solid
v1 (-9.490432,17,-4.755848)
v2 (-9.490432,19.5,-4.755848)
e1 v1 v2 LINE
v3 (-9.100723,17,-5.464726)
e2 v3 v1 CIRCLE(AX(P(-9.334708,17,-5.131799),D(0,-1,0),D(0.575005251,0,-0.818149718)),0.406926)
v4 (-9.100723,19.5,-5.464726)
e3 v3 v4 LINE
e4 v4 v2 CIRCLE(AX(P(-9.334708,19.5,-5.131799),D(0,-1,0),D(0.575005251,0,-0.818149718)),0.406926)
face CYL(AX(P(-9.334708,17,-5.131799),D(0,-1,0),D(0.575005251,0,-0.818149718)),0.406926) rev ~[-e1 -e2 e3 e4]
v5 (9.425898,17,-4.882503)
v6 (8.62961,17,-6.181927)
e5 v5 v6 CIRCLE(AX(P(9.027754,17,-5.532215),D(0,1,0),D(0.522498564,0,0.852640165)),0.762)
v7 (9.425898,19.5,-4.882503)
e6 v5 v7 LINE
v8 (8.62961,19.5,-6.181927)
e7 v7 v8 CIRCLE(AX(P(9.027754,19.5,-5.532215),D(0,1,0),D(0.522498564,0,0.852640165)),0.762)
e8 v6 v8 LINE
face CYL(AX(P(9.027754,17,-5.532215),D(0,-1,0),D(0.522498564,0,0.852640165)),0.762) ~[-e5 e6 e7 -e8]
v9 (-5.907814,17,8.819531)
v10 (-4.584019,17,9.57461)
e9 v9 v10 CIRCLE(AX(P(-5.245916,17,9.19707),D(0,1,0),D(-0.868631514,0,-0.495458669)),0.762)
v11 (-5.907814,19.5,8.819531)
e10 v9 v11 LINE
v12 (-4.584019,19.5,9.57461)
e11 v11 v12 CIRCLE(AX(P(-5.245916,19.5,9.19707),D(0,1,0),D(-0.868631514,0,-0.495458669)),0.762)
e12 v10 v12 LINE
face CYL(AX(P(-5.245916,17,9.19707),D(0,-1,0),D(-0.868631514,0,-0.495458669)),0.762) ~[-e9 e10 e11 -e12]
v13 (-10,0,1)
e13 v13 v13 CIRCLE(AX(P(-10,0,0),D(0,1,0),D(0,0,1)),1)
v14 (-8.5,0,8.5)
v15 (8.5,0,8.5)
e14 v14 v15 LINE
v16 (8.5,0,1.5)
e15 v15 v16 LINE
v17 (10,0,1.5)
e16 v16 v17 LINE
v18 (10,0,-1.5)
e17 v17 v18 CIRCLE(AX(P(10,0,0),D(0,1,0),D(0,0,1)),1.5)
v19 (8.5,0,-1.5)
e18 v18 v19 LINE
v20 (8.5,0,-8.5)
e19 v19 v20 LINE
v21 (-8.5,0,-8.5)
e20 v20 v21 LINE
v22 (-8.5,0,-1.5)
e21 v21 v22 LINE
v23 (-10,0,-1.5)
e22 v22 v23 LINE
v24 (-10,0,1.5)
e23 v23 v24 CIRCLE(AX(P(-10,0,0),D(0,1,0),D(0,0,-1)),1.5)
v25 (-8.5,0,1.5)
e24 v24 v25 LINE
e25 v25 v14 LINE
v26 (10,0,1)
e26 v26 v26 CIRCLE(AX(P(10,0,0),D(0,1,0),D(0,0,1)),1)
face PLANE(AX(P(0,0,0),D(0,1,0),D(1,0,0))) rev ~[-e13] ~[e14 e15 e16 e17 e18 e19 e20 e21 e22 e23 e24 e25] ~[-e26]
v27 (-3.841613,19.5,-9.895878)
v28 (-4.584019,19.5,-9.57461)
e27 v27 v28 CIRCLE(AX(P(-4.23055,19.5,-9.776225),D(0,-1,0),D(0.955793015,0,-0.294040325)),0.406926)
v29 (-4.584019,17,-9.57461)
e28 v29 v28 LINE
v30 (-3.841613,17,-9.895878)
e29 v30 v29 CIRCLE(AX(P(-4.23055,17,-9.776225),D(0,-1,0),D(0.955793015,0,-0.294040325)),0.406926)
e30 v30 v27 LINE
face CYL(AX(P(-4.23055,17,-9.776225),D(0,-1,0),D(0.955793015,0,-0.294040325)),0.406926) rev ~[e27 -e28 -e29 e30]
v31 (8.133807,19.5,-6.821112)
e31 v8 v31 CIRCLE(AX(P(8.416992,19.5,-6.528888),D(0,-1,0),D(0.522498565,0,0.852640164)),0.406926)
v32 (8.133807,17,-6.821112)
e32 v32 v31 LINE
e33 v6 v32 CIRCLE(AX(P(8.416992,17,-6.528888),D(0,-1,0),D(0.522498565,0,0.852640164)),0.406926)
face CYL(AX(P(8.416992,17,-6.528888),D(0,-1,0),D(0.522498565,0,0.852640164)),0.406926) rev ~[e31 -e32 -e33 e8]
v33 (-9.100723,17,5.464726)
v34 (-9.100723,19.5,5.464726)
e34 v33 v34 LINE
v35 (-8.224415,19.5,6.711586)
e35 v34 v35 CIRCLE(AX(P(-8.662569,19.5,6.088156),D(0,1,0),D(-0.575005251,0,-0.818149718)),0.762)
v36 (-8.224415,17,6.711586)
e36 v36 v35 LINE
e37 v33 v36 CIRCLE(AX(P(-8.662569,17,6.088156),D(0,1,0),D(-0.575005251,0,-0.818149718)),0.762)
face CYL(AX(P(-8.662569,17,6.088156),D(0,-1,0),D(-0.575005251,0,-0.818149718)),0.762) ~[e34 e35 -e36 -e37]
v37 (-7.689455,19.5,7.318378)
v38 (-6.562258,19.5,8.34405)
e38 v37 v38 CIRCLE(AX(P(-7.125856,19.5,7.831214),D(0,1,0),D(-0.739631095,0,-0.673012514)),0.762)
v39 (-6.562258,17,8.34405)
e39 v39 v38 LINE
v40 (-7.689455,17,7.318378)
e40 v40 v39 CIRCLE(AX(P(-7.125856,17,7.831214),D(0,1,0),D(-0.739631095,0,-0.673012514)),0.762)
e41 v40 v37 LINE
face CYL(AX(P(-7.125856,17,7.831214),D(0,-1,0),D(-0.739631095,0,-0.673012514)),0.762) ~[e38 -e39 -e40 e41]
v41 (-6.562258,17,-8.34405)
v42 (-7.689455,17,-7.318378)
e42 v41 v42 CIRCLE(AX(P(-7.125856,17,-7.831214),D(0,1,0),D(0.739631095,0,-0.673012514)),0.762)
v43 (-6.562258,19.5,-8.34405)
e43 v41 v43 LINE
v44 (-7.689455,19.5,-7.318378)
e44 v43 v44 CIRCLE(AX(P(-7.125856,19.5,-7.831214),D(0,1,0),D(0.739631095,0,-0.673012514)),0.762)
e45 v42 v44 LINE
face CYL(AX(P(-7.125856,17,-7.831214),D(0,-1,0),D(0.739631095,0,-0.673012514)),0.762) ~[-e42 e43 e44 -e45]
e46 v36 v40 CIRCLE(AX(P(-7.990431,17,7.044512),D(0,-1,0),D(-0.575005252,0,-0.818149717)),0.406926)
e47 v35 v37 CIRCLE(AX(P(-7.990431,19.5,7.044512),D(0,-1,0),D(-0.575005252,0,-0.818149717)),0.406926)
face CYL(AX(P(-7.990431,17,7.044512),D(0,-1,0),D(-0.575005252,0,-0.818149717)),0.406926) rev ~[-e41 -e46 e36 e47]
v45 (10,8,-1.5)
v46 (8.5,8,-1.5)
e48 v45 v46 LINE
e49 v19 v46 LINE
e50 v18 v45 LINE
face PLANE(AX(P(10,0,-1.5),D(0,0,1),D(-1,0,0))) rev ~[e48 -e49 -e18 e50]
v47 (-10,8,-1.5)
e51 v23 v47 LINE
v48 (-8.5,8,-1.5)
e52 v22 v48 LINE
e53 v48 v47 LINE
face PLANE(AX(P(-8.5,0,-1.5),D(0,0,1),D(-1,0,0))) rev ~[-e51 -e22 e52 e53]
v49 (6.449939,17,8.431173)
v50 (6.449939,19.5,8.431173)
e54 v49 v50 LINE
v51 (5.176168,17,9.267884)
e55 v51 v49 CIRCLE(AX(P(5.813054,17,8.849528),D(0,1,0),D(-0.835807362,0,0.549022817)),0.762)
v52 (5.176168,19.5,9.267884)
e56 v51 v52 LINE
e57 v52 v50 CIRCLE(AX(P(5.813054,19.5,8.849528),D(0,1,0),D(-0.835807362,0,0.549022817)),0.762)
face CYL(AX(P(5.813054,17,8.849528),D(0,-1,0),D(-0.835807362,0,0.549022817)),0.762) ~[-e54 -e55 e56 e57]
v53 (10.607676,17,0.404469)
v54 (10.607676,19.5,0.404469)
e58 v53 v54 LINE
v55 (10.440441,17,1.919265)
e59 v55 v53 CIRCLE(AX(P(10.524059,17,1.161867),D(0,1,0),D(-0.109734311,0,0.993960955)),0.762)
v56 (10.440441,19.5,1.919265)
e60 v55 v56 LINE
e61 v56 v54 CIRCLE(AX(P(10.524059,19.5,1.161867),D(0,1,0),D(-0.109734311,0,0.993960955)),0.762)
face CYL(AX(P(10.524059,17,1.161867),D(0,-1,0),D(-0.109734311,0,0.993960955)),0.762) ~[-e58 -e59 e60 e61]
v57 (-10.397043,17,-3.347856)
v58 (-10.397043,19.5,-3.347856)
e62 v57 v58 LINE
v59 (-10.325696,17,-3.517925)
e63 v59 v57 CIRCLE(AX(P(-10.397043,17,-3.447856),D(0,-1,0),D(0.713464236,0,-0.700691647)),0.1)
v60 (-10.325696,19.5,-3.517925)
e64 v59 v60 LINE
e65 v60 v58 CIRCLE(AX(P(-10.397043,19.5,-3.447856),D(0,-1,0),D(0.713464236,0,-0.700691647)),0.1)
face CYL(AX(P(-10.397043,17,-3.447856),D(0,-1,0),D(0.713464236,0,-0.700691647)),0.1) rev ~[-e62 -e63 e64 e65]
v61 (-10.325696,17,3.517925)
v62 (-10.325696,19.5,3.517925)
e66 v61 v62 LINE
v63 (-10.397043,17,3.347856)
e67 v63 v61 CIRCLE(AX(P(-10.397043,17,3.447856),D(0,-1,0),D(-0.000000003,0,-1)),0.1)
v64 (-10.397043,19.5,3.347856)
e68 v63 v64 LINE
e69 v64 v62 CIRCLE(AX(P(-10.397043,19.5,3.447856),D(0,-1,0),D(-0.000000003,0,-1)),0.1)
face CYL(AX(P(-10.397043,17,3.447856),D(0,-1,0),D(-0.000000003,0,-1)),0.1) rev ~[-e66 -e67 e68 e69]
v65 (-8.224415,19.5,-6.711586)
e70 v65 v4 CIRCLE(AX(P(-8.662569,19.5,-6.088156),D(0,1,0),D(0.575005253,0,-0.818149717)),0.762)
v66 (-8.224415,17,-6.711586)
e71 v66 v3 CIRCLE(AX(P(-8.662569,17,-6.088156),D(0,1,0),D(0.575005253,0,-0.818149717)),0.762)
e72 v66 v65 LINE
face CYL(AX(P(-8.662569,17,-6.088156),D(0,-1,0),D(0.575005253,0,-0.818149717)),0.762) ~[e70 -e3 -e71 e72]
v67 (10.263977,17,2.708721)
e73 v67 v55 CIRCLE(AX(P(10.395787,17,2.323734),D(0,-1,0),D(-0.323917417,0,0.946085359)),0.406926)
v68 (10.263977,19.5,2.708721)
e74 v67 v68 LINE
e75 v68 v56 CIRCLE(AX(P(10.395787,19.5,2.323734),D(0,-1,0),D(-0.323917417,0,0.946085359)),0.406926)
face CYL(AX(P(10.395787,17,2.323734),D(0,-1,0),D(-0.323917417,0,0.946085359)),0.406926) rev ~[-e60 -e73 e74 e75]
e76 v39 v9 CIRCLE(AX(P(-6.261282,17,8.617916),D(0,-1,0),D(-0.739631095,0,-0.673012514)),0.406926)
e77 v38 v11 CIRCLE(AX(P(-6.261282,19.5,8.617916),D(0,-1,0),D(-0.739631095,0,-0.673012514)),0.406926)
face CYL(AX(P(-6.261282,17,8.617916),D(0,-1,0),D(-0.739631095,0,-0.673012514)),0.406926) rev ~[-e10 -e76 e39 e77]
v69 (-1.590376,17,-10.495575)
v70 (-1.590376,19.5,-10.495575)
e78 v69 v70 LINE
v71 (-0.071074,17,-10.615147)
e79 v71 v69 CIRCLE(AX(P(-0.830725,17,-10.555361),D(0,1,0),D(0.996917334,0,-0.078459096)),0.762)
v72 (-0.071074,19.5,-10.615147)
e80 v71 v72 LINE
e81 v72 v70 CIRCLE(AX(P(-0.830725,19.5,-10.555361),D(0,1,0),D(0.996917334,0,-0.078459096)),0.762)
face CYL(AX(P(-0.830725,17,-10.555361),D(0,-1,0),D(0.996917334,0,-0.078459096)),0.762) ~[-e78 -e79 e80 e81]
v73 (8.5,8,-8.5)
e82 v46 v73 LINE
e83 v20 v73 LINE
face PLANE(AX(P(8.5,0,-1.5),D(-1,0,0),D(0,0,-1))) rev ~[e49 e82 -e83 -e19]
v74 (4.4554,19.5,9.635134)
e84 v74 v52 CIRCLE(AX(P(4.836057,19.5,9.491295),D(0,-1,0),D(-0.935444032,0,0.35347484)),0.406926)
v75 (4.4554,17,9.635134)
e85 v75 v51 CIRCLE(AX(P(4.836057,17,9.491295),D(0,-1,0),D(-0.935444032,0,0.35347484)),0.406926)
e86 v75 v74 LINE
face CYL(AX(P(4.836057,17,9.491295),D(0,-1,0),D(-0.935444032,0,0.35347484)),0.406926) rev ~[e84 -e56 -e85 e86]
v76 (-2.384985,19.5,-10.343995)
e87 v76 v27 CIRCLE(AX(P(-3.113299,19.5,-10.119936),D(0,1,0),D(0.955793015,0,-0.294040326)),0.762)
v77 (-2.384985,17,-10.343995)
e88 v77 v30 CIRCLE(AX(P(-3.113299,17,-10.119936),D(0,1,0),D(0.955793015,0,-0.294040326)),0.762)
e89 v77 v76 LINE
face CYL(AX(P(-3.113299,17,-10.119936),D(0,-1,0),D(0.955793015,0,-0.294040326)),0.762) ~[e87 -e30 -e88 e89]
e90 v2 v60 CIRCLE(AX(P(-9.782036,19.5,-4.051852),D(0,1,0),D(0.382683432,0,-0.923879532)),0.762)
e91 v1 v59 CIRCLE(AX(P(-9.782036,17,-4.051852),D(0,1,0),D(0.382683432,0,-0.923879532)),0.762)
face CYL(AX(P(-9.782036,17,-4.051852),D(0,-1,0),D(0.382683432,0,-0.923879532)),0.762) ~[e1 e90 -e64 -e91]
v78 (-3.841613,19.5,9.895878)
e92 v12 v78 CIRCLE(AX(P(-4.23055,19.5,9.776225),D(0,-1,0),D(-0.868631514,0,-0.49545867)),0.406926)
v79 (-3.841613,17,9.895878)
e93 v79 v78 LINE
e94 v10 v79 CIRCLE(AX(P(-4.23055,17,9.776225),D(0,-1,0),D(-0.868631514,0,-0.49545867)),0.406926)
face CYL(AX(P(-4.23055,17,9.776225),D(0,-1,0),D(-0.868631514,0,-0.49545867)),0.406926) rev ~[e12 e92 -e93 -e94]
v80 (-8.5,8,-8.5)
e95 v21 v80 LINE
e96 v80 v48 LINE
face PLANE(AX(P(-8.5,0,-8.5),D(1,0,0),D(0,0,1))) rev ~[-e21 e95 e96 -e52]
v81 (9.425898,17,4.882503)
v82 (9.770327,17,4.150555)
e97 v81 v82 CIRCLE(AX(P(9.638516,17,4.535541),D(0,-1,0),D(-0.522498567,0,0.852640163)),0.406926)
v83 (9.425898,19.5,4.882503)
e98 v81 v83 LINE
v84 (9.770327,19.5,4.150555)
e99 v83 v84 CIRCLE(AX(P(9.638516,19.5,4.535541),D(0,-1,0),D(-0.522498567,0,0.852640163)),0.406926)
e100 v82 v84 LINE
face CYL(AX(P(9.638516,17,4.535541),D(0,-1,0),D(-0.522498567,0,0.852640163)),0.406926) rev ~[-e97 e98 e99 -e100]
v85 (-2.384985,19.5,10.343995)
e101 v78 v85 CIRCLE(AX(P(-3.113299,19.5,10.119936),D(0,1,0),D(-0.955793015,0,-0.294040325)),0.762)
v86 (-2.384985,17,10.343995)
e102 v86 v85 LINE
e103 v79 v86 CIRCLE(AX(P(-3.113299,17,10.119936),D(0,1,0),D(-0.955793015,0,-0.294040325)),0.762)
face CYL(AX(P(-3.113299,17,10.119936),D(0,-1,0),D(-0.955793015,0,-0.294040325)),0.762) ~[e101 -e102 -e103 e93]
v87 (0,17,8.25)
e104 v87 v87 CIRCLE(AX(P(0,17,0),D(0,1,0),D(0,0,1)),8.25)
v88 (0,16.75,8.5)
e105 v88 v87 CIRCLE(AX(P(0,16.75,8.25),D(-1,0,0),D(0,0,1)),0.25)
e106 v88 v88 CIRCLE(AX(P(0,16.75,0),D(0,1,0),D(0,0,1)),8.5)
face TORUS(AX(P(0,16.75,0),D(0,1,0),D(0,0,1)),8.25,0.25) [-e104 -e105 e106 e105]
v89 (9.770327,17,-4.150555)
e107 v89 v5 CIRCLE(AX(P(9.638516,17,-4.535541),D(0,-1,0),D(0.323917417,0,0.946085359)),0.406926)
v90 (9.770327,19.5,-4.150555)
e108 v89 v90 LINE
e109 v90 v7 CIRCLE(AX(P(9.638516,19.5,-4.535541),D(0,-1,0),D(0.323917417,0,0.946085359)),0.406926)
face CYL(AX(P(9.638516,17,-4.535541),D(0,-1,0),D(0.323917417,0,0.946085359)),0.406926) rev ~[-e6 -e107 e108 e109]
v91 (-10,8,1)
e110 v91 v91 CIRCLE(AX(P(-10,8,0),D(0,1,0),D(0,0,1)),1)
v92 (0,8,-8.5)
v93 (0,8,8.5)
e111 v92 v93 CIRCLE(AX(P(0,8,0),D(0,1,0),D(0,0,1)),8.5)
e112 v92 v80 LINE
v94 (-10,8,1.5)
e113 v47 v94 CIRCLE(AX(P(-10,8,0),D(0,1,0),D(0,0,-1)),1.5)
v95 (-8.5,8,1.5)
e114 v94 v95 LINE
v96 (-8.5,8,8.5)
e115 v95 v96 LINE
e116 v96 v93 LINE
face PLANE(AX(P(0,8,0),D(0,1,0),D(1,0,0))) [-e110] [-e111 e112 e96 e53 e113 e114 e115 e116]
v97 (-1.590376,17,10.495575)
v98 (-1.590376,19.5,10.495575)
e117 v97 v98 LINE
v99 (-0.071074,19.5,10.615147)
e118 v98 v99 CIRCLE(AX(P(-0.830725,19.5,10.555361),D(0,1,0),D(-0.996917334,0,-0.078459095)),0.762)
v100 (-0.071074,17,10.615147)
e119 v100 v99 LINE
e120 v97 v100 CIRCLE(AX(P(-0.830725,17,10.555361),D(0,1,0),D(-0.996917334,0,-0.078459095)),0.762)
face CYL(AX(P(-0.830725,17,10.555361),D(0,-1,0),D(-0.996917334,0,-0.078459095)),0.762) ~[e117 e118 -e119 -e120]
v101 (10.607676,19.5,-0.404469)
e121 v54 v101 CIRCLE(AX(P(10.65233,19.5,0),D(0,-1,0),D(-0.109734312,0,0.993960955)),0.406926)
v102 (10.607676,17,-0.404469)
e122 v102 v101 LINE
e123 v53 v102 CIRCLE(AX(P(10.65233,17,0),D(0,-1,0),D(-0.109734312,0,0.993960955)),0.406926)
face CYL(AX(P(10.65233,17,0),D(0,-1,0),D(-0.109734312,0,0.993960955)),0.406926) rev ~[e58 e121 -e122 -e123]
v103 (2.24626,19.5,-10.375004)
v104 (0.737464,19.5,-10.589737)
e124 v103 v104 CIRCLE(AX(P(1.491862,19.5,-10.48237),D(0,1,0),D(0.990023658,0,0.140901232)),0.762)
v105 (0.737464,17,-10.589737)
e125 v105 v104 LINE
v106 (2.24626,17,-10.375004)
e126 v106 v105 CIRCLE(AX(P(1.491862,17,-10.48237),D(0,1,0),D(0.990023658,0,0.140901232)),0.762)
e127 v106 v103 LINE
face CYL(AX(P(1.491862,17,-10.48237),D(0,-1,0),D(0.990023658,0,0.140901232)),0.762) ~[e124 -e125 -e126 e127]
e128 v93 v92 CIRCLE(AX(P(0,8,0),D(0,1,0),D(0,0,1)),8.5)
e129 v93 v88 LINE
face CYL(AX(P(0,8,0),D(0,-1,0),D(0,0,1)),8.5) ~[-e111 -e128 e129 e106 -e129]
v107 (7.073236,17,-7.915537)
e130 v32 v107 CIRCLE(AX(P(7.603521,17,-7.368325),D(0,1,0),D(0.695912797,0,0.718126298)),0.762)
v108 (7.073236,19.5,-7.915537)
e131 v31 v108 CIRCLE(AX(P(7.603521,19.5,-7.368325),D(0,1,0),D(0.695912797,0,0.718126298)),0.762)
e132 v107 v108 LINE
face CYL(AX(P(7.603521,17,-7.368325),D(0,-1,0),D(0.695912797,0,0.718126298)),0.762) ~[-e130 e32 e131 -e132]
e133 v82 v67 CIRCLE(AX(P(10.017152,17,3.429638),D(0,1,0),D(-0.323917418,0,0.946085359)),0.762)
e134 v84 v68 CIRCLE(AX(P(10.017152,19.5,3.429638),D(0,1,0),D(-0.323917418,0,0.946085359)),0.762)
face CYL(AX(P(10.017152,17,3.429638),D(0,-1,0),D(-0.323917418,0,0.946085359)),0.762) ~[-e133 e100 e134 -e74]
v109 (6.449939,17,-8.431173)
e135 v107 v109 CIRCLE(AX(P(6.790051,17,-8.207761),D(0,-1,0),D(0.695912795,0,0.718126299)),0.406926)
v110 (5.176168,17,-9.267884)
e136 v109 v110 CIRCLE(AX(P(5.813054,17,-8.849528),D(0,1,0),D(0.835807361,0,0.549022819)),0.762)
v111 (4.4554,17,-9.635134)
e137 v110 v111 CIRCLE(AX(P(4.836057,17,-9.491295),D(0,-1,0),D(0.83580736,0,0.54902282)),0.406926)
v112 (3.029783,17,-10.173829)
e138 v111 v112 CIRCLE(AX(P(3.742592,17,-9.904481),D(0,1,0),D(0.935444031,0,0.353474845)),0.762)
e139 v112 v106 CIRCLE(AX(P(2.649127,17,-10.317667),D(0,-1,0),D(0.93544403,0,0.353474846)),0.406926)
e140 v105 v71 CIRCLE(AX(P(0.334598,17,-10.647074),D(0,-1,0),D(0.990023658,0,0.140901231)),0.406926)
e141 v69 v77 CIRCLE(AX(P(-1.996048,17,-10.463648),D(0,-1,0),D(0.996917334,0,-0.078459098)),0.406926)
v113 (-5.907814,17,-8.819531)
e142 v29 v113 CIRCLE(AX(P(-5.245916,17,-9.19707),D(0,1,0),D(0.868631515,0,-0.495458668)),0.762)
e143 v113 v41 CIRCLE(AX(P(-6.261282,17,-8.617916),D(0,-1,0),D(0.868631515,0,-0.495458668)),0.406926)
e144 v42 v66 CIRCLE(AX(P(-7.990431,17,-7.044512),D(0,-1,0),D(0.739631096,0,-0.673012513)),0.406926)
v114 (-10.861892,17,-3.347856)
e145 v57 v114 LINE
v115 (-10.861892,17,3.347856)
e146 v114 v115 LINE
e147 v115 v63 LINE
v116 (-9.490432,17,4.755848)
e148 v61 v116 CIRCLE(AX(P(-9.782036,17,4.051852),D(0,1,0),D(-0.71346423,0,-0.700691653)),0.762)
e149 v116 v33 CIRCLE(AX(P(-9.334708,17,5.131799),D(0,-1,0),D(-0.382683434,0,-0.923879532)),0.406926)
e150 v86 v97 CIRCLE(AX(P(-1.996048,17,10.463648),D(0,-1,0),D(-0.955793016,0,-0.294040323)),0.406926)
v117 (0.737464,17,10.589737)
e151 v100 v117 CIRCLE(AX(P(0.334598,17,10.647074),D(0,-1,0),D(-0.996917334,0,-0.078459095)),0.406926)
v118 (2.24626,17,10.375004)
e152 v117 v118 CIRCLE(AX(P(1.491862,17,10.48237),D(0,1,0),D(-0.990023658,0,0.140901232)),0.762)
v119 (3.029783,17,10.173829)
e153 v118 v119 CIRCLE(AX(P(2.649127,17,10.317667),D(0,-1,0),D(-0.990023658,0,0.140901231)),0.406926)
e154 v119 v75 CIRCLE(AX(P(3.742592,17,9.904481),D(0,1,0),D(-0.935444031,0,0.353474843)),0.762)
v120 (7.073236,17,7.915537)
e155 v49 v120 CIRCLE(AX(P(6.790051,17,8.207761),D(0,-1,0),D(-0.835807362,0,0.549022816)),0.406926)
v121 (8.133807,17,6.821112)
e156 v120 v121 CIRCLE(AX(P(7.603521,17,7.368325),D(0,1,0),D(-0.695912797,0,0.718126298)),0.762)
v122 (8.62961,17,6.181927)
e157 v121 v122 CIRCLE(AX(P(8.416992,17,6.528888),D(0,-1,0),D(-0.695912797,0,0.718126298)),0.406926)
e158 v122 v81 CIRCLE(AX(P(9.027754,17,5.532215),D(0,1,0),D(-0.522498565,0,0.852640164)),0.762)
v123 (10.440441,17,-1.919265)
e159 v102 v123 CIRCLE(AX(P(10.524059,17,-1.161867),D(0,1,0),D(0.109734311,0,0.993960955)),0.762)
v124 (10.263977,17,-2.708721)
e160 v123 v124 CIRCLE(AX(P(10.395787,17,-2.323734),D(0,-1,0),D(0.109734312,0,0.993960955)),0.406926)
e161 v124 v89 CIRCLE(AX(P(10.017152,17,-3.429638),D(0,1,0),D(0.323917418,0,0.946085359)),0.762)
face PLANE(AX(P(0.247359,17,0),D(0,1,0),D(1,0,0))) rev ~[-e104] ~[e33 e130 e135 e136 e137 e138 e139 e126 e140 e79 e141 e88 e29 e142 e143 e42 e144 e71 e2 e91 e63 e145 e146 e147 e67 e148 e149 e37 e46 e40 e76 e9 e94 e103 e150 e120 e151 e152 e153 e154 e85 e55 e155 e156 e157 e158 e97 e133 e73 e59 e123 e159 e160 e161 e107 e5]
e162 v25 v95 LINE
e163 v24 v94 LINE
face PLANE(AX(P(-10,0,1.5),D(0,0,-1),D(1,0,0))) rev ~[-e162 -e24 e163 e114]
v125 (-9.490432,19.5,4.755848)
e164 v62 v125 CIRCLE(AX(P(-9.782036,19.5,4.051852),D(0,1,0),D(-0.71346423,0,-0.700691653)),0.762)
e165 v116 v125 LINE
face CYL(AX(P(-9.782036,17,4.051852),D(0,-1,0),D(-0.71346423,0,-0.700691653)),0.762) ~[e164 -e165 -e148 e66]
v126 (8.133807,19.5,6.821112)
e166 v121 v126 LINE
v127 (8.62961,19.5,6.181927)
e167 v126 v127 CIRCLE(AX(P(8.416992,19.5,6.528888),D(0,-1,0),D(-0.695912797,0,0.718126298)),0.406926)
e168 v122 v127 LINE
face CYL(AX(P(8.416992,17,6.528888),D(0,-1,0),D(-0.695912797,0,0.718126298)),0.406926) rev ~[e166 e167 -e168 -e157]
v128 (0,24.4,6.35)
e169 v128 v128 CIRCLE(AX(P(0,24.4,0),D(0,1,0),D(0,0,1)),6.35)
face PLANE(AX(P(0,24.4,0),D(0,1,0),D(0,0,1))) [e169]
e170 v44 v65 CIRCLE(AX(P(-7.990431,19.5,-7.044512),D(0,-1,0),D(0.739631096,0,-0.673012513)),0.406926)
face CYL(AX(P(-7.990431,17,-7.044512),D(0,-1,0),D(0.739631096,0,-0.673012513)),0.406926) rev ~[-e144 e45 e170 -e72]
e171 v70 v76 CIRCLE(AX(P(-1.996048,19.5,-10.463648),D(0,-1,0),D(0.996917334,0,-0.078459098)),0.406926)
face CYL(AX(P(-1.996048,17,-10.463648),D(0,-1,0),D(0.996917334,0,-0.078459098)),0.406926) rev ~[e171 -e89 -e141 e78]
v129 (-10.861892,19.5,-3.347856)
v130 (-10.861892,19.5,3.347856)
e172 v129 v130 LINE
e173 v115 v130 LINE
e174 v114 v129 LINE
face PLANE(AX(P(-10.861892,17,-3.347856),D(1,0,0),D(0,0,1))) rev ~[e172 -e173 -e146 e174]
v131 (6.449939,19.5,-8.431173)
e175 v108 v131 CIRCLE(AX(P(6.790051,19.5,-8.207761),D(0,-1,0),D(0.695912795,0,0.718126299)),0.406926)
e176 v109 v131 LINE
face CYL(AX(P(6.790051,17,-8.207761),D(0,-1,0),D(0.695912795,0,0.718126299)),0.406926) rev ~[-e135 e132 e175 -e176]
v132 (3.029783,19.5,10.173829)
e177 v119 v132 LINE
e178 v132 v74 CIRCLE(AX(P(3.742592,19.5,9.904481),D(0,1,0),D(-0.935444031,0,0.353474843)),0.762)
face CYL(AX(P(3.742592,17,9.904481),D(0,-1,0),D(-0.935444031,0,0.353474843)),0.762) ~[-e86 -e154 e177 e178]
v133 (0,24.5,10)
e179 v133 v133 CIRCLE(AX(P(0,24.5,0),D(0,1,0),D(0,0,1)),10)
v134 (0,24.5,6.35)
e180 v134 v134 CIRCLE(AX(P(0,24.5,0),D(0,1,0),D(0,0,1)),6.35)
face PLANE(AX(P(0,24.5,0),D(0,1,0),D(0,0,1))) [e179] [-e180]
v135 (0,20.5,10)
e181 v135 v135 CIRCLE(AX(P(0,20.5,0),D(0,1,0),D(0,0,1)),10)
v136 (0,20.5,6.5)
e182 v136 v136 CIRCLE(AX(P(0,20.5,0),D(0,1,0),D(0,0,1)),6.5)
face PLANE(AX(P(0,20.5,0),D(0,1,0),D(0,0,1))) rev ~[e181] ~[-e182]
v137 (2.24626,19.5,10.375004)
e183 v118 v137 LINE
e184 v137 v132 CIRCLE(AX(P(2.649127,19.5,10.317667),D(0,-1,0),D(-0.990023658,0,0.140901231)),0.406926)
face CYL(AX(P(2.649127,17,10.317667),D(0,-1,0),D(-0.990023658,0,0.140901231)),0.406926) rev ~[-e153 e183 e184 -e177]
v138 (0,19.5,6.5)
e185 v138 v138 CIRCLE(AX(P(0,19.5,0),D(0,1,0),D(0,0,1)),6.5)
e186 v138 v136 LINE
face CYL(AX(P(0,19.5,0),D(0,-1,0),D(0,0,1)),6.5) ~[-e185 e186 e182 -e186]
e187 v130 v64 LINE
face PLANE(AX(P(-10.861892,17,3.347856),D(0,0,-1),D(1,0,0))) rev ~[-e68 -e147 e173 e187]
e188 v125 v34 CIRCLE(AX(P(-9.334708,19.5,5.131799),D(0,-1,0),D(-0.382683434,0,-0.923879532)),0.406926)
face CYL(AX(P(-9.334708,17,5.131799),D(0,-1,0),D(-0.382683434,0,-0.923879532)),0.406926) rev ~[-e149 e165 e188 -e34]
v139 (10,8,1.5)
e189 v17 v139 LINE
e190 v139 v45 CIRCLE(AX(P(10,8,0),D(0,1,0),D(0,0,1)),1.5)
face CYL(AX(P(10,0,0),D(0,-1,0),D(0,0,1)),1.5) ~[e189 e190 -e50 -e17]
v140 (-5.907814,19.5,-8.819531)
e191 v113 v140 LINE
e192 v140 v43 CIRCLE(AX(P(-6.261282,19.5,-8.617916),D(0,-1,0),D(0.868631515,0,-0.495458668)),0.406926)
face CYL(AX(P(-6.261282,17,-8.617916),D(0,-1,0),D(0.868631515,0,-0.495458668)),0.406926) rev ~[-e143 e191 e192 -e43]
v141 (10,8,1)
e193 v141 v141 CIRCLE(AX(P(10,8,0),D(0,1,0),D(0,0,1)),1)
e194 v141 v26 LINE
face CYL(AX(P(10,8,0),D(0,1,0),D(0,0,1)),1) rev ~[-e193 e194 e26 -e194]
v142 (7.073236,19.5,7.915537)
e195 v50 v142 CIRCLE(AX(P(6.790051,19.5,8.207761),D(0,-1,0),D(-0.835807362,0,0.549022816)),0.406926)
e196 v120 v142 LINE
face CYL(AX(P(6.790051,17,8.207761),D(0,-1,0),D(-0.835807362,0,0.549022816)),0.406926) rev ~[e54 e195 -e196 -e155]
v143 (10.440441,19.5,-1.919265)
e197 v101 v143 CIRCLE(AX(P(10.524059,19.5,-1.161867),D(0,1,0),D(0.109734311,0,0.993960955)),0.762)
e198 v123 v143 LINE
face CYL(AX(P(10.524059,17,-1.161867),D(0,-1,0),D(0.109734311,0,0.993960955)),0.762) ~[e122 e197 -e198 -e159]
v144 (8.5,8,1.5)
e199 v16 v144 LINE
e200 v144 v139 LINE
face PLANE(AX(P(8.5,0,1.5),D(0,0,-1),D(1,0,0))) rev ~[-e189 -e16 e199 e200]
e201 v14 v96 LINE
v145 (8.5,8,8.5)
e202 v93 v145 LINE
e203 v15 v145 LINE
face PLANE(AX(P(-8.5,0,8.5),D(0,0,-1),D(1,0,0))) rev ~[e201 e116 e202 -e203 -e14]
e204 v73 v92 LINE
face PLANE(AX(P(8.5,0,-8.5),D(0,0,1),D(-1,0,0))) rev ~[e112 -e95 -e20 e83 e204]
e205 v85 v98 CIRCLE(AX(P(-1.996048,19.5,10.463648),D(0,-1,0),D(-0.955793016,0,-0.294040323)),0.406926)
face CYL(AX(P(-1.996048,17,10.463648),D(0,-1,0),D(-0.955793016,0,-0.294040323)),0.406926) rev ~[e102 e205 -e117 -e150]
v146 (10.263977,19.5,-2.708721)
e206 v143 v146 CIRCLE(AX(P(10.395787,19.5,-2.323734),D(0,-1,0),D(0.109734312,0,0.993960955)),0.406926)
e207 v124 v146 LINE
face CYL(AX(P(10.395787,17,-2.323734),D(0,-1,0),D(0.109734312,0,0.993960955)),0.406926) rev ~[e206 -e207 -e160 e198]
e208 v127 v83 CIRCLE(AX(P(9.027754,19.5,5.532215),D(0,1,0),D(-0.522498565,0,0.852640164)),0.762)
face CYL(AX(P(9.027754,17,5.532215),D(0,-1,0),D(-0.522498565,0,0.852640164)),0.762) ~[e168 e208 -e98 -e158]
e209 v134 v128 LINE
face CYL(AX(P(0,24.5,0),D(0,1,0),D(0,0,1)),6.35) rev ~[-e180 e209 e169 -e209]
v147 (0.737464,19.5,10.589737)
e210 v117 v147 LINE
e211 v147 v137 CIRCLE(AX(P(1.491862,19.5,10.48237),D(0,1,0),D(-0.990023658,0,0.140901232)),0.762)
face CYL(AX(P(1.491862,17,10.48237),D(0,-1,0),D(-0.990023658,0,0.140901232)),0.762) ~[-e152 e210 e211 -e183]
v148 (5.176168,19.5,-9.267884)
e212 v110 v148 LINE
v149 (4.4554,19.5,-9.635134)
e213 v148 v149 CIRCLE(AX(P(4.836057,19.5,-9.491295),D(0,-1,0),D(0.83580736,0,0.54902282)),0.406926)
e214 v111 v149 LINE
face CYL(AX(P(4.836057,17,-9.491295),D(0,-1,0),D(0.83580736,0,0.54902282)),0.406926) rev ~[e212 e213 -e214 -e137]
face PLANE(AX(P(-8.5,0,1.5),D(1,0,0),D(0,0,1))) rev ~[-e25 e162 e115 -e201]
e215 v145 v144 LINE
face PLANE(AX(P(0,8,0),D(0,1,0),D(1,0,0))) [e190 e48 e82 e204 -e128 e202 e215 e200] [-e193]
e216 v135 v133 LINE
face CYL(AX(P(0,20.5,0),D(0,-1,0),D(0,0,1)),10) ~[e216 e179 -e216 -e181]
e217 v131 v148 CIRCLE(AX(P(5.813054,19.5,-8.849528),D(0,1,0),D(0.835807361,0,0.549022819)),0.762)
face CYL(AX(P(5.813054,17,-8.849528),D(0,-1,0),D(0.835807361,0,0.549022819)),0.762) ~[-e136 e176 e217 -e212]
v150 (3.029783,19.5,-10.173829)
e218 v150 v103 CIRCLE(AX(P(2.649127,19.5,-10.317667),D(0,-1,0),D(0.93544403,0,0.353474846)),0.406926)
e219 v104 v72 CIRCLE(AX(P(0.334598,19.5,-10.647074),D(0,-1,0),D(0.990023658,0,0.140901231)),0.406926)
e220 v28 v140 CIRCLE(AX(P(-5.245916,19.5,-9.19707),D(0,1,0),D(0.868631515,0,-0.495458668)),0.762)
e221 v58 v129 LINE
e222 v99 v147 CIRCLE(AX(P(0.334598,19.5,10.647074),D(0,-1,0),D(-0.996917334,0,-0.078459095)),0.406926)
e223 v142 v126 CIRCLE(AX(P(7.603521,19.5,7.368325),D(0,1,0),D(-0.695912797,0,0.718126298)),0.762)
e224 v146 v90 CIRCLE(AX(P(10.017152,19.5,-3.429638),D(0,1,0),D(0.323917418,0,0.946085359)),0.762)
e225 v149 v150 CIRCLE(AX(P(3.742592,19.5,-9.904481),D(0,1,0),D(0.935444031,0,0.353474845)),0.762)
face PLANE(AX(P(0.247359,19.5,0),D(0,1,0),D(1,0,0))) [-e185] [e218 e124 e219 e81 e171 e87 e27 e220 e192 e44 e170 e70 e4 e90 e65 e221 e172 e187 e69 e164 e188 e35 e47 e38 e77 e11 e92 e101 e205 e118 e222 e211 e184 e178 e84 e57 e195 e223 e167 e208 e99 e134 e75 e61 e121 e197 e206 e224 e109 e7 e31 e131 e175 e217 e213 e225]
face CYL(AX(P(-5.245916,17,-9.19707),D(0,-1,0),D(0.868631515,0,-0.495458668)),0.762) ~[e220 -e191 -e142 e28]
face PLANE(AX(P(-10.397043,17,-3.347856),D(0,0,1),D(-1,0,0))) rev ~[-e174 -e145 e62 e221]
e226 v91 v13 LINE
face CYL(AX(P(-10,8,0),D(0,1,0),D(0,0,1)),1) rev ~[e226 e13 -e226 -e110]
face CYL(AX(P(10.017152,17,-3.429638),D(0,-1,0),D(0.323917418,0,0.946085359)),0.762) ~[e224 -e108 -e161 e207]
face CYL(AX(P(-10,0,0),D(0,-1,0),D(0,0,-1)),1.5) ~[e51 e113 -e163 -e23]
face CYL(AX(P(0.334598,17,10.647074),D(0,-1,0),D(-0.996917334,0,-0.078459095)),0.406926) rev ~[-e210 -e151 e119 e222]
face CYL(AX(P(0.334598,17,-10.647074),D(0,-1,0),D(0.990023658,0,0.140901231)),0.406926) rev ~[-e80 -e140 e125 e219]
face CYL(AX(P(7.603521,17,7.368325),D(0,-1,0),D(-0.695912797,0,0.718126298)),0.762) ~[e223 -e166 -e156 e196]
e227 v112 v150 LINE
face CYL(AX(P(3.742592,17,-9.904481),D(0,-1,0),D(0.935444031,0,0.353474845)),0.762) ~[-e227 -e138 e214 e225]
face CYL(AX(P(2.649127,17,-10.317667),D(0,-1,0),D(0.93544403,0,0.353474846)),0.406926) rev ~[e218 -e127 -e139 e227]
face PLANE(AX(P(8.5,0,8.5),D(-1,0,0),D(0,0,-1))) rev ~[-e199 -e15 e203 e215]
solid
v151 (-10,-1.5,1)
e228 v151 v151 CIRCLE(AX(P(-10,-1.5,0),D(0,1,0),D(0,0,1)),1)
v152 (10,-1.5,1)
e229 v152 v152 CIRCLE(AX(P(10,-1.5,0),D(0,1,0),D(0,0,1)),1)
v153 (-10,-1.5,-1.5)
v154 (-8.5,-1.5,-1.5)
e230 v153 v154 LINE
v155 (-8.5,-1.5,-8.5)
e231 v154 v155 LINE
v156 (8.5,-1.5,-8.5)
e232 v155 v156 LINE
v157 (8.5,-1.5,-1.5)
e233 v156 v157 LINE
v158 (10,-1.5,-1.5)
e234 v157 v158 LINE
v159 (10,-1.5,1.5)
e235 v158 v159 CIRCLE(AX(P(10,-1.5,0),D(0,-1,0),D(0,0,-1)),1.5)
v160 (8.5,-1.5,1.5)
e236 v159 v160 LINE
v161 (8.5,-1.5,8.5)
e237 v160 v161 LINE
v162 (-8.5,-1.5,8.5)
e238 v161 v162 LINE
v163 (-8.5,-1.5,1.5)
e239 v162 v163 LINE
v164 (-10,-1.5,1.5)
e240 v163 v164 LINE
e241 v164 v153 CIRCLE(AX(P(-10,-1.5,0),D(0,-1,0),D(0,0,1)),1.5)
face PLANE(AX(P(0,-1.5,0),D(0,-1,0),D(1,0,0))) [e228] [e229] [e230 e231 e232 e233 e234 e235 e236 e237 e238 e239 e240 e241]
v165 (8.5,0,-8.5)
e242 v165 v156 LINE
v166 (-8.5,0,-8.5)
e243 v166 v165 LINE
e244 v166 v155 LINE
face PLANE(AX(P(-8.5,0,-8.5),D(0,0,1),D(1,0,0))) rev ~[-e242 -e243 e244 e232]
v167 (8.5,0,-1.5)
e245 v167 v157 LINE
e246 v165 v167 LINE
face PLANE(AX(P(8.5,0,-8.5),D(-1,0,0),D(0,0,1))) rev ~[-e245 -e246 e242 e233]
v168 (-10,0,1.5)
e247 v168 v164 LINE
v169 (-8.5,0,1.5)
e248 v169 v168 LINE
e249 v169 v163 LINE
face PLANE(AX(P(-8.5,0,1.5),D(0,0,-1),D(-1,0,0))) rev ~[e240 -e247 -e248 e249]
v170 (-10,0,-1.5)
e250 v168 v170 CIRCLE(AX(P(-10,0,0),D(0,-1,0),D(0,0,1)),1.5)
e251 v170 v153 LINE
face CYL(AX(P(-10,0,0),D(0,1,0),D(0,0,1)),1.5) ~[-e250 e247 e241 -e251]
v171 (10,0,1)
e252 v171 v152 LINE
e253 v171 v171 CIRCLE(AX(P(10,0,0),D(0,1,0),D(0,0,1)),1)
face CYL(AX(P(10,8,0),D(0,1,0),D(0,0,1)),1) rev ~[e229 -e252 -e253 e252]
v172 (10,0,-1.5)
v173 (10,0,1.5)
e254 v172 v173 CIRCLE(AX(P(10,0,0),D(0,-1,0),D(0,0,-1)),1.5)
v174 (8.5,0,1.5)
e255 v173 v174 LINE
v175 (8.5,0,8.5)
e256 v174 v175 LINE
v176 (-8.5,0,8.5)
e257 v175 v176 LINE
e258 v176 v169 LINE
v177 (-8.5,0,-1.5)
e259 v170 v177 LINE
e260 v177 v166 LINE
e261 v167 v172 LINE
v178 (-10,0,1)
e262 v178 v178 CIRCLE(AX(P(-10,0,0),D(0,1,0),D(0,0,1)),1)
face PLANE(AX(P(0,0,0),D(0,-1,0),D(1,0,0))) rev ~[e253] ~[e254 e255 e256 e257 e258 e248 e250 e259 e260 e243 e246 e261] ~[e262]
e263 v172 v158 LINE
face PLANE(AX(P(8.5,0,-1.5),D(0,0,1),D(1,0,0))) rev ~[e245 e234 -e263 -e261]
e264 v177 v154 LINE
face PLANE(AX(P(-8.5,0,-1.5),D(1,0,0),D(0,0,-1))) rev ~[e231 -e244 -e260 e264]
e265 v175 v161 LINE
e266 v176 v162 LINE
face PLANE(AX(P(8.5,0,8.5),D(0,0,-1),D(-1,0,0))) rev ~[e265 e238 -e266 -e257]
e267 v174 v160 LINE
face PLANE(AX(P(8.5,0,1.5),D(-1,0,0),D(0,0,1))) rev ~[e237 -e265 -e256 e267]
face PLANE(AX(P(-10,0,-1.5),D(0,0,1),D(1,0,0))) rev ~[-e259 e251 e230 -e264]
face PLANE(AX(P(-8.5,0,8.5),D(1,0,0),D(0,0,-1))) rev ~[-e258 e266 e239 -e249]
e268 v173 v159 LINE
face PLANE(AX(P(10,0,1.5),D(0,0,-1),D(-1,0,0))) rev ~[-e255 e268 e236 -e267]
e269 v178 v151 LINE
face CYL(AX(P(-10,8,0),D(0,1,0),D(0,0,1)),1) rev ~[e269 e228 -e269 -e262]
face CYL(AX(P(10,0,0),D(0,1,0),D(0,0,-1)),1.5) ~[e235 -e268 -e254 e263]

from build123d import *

# Parameters (mm, degrees)
BOSS_EXTRUDE1_DEPTH = 8
SKETCH3_R           = 8.500000018
BOSS_EXTRUDE2_DEPTH = 9
FILLET4_R           = 0.25
BOSS_EXTRUDE3_DEPTH = 2.5
SKETCH5_R           = 6.5
BOSS_EXTRUDE4_DEPTH = 1
SKETCH7_R           = 10
BOSS_EXTRUDE5_DEPTH = 4
SKETCH6_R           = 6.35
CUT_EXTRUDE2_DEPTH  = 0.1
BOSS_EXTRUDE6_DEPTH = 1.5
SKETCH2_R           = 1
CUT_EXTRUDE1_DEPTH  = 24.077752415


with BuildPart() as part:
    # Sketch1 → Boss-Extrude1 (new body)
    with BuildSketch(Plane(origin=(0, 0, 0), x_dir=(1, 0, 0), z_dir=(0, 1, 0))):
        with BuildLine():
            Line((8.500000018, -8.500000018), (8.500000018, -1.500000048))
            Line((8.500000018, -1.500000048), (10.000000066, -1.500000048))
            ThreePointArc((10.000000066, -1.500000048), (11.500000114, 0), (10.000000066, 1.500000048))
            Line((10.000000066, 1.500000048), (8.500000018, 1.500000048))
            Line((8.500000018, 1.500000048), (8.500000018, 8.500000018))
            Line((8.500000018, 8.500000018), (-8.500000018, 8.500000018))
            Line((-8.500000018, 8.500000018), (-8.500000018, 1.500000048))
            Line((-8.500000018, 1.500000048), (-10.000000066, 1.500000048))
            ThreePointArc((-10.000000066, 1.500000048), (-11.500000114, 0), (-10.000000066, -1.500000048))
            Line((-10.000000066, -1.500000048), (-8.500000018, -1.500000048))
            Line((-8.500000018, -1.500000048), (-8.500000018, -8.500000018))
            Line((-8.500000018, -8.500000018), (8.500000018, -8.500000018))
        make_face()
    extrude(amount=BOSS_EXTRUDE1_DEPTH)

    # Sketch3 → Boss-Extrude2 (add)
    with BuildSketch(Plane(origin=(0, 8, 0), x_dir=(1, 0, 0), z_dir=(0, 1, 0))):
        Circle(SKETCH3_R)
    extrude(amount=BOSS_EXTRUDE2_DEPTH)

    # Fillet4
    fillet4_edges = [part.edges().sort_by_distance(p)[0] for p in [
        (-8.500000018, 17, 0),
    ]]
    fillet(fillet4_edges, radius=FILLET4_R)

    # Sketch4 → Boss-Extrude3 (add)
    with BuildSketch(Plane(origin=(0, 17, 0), x_dir=(1, 0, 0), z_dir=(0, 1, 0))):
        with BuildLine():
            Line((-10.397042658, 3.347855978), (-10.861892381, 3.347855978))
            Line((-10.861892381, 3.347855978), (-10.861892381, -3.347855978))
            Line((-10.861892381, -3.347855978), (-10.397042658, -3.347855978))
            ThreePointArc((-10.397042658, -3.347855978), (-10.30482846, -3.409170816), (-10.325696234, -3.517925143))
            ThreePointArc((-10.325696234, -3.517925143), (-10.413698121, -4.478053525), (-9.490431715, -4.755848386))
            ThreePointArc((-9.490431715, -4.755848386), (-8.9781158, -4.935760929), (-9.10072321, -5.464725524))
            ThreePointArc((-9.10072321, -5.464725524), (-9.285999293, -6.526309611), (-8.224415206, -6.711585693))
            ThreePointArc((-8.224415206, -6.711585693), (-7.685190812, -6.775407106), (-7.689455387, -7.318378498))
            ThreePointArc((-7.689455387, -7.318378498), (-7.638692028, -8.394812928), (-6.562257599, -8.344049569))
            ThreePointArc((-6.562257599, -8.344049569), (-6.022097265, -8.288705798), (-5.907813595, -8.81953097))
            ThreePointArc((-5.907813595, -8.81953097), (-5.623455887, -9.858967689), (-4.584019167, -9.57460998))
            ThreePointArc((-4.584019167, -9.57460998), (-4.068940513, -9.402766741), (-3.841613241, -9.895877713))
            ThreePointArc((-3.841613241, -9.895877713), (-3.337357691, -10.848250718), (-2.384984686, -10.343995169))
            ThreePointArc((-2.384984686, -10.343995169), (-1.919797235, -10.063929543), (-1.590375914, -10.495574899))
            ThreePointArc((-1.590375914, -10.495574899), (-0.890510737, -11.315011738), (-0.071073897, -10.615146561))
            ThreePointArc((-0.071073897, -10.615146561), (0.321815911, -10.240348324), (0.737464217, -10.589737227))
            ThreePointArc((0.737464217, -10.589737227), (1.599228982, -11.236768515), (2.246260271, -10.375003749))
            ThreePointArc((2.246260271, -10.375003749), (2.547928318, -9.923525612), (3.029783294, -10.173829229))
            ThreePointArc((3.029783294, -10.173829229), (4.011939477, -10.61728975), (4.455399997, -9.635133567))
            ThreePointArc((4.455399997, -9.635133567), (4.651315997, -9.12872164), (5.176168388, -9.267883729))
            ThreePointArc((5.176168388, -9.267883729), (6.231408984, -9.486413552), (6.449938806, -8.431172955))
            ThreePointArc((6.449938806, -8.431172955), (6.530666175, -7.894219315), (7.07323569, -7.915536929))
            ThreePointArc((7.07323569, -7.915536929), (8.15073348, -7.898610241), (8.133806792, -6.821112451))
            ThreePointArc((8.133806792, -6.821112451), (8.095457176, -6.279480264), (8.629610154, -6.181926608))
            ThreePointArc((8.629610154, -6.181926608), (9.677465865, -5.93035871), (9.425897966, -4.882502998))
            ThreePointArc((9.425897966, -4.882502998), (9.270318533, -4.362280777), (9.770326707, -4.150554667))
            ThreePointArc((9.770326707, -4.150554667), (10.738068823, -3.676462697), (10.263976852, -2.70872058))
            ThreePointArc((10.263976852, -2.70872058), (9.998661313, -2.234965597), (10.440441051, -1.919265134))
            ThreePointArc((10.440441051, -1.919265134), (11.281456844, -1.245484431), (10.607676141, -0.404468638))
            ThreePointArc((10.607676141, -0.404468638), (10.245403812, 0), (10.607676141, 0.404468638))
            ThreePointArc((10.607676141, 0.404468638), (11.281456844, 1.245484431), (10.440441051, 1.919265134))
            ThreePointArc((10.440441051, 1.919265134), (9.998661313, 2.234965597), (10.263976852, 2.70872058))
            ThreePointArc((10.263976852, 2.70872058), (10.738068823, 3.676462697), (9.770326707, 4.150554667))
            ThreePointArc((9.770326707, 4.150554667), (9.270318533, 4.362280777), (9.425897966, 4.882502998))
            ThreePointArc((9.425897966, 4.882502998), (9.677465865, 5.93035871), (8.629610154, 6.181926608))
            ThreePointArc((8.629610154, 6.181926608), (8.095457176, 6.279480264), (8.133806792, 6.821112451))
            ThreePointArc((8.133806792, 6.821112451), (8.15073348, 7.898610241), (7.07323569, 7.915536929))
            ThreePointArc((7.07323569, 7.915536929), (6.530666175, 7.894219315), (6.449938806, 8.431172955))
            ThreePointArc((6.449938806, 8.431172955), (6.231408984, 9.486413552), (5.176168388, 9.267883729))
            ThreePointArc((5.176168388, 9.267883729), (4.651315997, 9.12872164), (4.455399997, 9.635133567))
            ThreePointArc((4.455399997, 9.635133567), (4.011939477, 10.61728975), (3.029783294, 10.173829229))
            ThreePointArc((3.029783294, 10.173829229), (2.547928318, 9.923525612), (2.246260271, 10.375003749))
            ThreePointArc((2.246260271, 10.375003749), (1.599228982, 11.236768515), (0.737464217, 10.589737227))
            ThreePointArc((0.737464217, 10.589737227), (0.321815911, 10.240348324), (-0.071073897, 10.615146561))
            ThreePointArc((-0.071073897, 10.615146561), (-0.890510737, 11.315011738), (-1.590375914, 10.495574899))
            ThreePointArc((-1.590375914, 10.495574899), (-1.919797235, 10.063929543), (-2.384984686, 10.343995169))
            ThreePointArc((-2.384984686, 10.343995169), (-3.337357691, 10.848250718), (-3.841613241, 9.895877713))
            ThreePointArc((-3.841613241, 9.895877713), (-4.068940513, 9.402766741), (-4.584019167, 9.57460998))
            ThreePointArc((-4.584019167, 9.57460998), (-5.623455887, 9.858967689), (-5.907813595, 8.81953097))
            ThreePointArc((-5.907813595, 8.81953097), (-6.022097265, 8.288705798), (-6.562257599, 8.344049569))
            ThreePointArc((-6.562257599, 8.344049569), (-7.638692028, 8.394812928), (-7.689455387, 7.318378498))
            ThreePointArc((-7.689455387, 7.318378498), (-7.685190812, 6.775407106), (-8.224415206, 6.711585693))
            ThreePointArc((-8.224415206, 6.711585693), (-9.285999293, 6.526309611), (-9.10072321, 5.464725524))
            ThreePointArc((-9.10072321, 5.464725524), (-8.9781158, 4.935760929), (-9.490431715, 4.755848386))
            ThreePointArc((-9.490431715, 4.755848386), (-10.413698121, 4.478053525), (-10.325696234, 3.517925143))
            ThreePointArc((-10.325696234, 3.517925143), (-10.30482846, 3.409170816), (-10.397042658, 3.347855978))
        make_face()
    extrude(amount=BOSS_EXTRUDE3_DEPTH)

    # Sketch5 → Boss-Extrude4 (add)
    with BuildSketch(Plane(origin=(0, 19.5, 0), x_dir=(1, 0, 0), z_dir=(0, 1, 0))):
        Circle(SKETCH5_R)
    extrude(amount=BOSS_EXTRUDE4_DEPTH)

    # Sketch7 → Boss-Extrude5 (add)
    with BuildSketch(Plane(origin=(0, 20.5, 0), x_dir=(1, 0, 0), z_dir=(0, 1, 0))):
        Circle(SKETCH7_R)
    extrude(amount=BOSS_EXTRUDE5_DEPTH)

    # Sketch6 → Cut-Extrude2 (cut)
    with BuildSketch(Plane(origin=(0, 24.5, 0), x_dir=(1, 0, 0), z_dir=(0, 1, 0))):
        Circle(SKETCH6_R)
    extrude(amount=-CUT_EXTRUDE2_DEPTH, mode=Mode.SUBTRACT)


with BuildPart() as body_2:
    # Sketch8 → Boss-Extrude6 (new body)
    with BuildSketch(Plane.XZ):
        with BuildLine():
            Line((-8.500000018, -1.500000048), (-8.500000018, -8.500000018))
            Line((-8.500000018, -8.500000018), (8.500000018, -8.500000018))
            Line((8.500000018, -8.500000018), (8.500000018, -1.500000048))
            Line((8.500000018, -1.500000048), (10.000000066, -1.500000048))
            ThreePointArc((10.000000066, -1.500000048), (11.500000114, 0), (10.000000066, 1.500000048))
            Line((10.000000066, 1.500000048), (8.500000018, 1.500000048))
            Line((8.500000018, 1.500000048), (8.500000018, 8.500000018))
            Line((8.500000018, 8.500000018), (-8.500000018, 8.500000018))
            Line((-8.500000018, 8.500000018), (-8.500000018, 1.500000048))
            Line((-8.500000018, 1.500000048), (-10.000000066, 1.500000048))
            ThreePointArc((-10.000000066, 1.500000048), (-11.500000114, 0), (-10.000000066, -1.500000048))
            Line((-10.000000066, -1.500000048), (-8.500000018, -1.500000048))
        make_face()
    extrude(amount=BOSS_EXTRUDE6_DEPTH)


with BuildPart() as cut_extrude1_tool:
    # Sketch2 → Cut-Extrude1 (new, through all)
    with BuildSketch(Plane(origin=(0, 8, 0), x_dir=(1, 0, 0), z_dir=(0, 1, 0))):
        with Locations((-10.000000066, 0)):
            Circle(SKETCH2_R)
        with Locations((10.000000066, 0)):
            Circle(SKETCH2_R)
    extrude(amount=-CUT_EXTRUDE1_DEPTH)


with BuildPart() as part_1:
    add(part.part)

    # Cut-Extrude1: cut by cut_extrude1_tool
    add(cut_extrude1_tool.part, mode=Mode.SUBTRACT)


with BuildPart() as body_2_1:
    add(body_2.part)

    # Cut-Extrude1: cut by cut_extrude1_tool
    add(cut_extrude1_tool.part, mode=Mode.SUBTRACT)


solid = Compound([part_1.part, body_2_1.part])
